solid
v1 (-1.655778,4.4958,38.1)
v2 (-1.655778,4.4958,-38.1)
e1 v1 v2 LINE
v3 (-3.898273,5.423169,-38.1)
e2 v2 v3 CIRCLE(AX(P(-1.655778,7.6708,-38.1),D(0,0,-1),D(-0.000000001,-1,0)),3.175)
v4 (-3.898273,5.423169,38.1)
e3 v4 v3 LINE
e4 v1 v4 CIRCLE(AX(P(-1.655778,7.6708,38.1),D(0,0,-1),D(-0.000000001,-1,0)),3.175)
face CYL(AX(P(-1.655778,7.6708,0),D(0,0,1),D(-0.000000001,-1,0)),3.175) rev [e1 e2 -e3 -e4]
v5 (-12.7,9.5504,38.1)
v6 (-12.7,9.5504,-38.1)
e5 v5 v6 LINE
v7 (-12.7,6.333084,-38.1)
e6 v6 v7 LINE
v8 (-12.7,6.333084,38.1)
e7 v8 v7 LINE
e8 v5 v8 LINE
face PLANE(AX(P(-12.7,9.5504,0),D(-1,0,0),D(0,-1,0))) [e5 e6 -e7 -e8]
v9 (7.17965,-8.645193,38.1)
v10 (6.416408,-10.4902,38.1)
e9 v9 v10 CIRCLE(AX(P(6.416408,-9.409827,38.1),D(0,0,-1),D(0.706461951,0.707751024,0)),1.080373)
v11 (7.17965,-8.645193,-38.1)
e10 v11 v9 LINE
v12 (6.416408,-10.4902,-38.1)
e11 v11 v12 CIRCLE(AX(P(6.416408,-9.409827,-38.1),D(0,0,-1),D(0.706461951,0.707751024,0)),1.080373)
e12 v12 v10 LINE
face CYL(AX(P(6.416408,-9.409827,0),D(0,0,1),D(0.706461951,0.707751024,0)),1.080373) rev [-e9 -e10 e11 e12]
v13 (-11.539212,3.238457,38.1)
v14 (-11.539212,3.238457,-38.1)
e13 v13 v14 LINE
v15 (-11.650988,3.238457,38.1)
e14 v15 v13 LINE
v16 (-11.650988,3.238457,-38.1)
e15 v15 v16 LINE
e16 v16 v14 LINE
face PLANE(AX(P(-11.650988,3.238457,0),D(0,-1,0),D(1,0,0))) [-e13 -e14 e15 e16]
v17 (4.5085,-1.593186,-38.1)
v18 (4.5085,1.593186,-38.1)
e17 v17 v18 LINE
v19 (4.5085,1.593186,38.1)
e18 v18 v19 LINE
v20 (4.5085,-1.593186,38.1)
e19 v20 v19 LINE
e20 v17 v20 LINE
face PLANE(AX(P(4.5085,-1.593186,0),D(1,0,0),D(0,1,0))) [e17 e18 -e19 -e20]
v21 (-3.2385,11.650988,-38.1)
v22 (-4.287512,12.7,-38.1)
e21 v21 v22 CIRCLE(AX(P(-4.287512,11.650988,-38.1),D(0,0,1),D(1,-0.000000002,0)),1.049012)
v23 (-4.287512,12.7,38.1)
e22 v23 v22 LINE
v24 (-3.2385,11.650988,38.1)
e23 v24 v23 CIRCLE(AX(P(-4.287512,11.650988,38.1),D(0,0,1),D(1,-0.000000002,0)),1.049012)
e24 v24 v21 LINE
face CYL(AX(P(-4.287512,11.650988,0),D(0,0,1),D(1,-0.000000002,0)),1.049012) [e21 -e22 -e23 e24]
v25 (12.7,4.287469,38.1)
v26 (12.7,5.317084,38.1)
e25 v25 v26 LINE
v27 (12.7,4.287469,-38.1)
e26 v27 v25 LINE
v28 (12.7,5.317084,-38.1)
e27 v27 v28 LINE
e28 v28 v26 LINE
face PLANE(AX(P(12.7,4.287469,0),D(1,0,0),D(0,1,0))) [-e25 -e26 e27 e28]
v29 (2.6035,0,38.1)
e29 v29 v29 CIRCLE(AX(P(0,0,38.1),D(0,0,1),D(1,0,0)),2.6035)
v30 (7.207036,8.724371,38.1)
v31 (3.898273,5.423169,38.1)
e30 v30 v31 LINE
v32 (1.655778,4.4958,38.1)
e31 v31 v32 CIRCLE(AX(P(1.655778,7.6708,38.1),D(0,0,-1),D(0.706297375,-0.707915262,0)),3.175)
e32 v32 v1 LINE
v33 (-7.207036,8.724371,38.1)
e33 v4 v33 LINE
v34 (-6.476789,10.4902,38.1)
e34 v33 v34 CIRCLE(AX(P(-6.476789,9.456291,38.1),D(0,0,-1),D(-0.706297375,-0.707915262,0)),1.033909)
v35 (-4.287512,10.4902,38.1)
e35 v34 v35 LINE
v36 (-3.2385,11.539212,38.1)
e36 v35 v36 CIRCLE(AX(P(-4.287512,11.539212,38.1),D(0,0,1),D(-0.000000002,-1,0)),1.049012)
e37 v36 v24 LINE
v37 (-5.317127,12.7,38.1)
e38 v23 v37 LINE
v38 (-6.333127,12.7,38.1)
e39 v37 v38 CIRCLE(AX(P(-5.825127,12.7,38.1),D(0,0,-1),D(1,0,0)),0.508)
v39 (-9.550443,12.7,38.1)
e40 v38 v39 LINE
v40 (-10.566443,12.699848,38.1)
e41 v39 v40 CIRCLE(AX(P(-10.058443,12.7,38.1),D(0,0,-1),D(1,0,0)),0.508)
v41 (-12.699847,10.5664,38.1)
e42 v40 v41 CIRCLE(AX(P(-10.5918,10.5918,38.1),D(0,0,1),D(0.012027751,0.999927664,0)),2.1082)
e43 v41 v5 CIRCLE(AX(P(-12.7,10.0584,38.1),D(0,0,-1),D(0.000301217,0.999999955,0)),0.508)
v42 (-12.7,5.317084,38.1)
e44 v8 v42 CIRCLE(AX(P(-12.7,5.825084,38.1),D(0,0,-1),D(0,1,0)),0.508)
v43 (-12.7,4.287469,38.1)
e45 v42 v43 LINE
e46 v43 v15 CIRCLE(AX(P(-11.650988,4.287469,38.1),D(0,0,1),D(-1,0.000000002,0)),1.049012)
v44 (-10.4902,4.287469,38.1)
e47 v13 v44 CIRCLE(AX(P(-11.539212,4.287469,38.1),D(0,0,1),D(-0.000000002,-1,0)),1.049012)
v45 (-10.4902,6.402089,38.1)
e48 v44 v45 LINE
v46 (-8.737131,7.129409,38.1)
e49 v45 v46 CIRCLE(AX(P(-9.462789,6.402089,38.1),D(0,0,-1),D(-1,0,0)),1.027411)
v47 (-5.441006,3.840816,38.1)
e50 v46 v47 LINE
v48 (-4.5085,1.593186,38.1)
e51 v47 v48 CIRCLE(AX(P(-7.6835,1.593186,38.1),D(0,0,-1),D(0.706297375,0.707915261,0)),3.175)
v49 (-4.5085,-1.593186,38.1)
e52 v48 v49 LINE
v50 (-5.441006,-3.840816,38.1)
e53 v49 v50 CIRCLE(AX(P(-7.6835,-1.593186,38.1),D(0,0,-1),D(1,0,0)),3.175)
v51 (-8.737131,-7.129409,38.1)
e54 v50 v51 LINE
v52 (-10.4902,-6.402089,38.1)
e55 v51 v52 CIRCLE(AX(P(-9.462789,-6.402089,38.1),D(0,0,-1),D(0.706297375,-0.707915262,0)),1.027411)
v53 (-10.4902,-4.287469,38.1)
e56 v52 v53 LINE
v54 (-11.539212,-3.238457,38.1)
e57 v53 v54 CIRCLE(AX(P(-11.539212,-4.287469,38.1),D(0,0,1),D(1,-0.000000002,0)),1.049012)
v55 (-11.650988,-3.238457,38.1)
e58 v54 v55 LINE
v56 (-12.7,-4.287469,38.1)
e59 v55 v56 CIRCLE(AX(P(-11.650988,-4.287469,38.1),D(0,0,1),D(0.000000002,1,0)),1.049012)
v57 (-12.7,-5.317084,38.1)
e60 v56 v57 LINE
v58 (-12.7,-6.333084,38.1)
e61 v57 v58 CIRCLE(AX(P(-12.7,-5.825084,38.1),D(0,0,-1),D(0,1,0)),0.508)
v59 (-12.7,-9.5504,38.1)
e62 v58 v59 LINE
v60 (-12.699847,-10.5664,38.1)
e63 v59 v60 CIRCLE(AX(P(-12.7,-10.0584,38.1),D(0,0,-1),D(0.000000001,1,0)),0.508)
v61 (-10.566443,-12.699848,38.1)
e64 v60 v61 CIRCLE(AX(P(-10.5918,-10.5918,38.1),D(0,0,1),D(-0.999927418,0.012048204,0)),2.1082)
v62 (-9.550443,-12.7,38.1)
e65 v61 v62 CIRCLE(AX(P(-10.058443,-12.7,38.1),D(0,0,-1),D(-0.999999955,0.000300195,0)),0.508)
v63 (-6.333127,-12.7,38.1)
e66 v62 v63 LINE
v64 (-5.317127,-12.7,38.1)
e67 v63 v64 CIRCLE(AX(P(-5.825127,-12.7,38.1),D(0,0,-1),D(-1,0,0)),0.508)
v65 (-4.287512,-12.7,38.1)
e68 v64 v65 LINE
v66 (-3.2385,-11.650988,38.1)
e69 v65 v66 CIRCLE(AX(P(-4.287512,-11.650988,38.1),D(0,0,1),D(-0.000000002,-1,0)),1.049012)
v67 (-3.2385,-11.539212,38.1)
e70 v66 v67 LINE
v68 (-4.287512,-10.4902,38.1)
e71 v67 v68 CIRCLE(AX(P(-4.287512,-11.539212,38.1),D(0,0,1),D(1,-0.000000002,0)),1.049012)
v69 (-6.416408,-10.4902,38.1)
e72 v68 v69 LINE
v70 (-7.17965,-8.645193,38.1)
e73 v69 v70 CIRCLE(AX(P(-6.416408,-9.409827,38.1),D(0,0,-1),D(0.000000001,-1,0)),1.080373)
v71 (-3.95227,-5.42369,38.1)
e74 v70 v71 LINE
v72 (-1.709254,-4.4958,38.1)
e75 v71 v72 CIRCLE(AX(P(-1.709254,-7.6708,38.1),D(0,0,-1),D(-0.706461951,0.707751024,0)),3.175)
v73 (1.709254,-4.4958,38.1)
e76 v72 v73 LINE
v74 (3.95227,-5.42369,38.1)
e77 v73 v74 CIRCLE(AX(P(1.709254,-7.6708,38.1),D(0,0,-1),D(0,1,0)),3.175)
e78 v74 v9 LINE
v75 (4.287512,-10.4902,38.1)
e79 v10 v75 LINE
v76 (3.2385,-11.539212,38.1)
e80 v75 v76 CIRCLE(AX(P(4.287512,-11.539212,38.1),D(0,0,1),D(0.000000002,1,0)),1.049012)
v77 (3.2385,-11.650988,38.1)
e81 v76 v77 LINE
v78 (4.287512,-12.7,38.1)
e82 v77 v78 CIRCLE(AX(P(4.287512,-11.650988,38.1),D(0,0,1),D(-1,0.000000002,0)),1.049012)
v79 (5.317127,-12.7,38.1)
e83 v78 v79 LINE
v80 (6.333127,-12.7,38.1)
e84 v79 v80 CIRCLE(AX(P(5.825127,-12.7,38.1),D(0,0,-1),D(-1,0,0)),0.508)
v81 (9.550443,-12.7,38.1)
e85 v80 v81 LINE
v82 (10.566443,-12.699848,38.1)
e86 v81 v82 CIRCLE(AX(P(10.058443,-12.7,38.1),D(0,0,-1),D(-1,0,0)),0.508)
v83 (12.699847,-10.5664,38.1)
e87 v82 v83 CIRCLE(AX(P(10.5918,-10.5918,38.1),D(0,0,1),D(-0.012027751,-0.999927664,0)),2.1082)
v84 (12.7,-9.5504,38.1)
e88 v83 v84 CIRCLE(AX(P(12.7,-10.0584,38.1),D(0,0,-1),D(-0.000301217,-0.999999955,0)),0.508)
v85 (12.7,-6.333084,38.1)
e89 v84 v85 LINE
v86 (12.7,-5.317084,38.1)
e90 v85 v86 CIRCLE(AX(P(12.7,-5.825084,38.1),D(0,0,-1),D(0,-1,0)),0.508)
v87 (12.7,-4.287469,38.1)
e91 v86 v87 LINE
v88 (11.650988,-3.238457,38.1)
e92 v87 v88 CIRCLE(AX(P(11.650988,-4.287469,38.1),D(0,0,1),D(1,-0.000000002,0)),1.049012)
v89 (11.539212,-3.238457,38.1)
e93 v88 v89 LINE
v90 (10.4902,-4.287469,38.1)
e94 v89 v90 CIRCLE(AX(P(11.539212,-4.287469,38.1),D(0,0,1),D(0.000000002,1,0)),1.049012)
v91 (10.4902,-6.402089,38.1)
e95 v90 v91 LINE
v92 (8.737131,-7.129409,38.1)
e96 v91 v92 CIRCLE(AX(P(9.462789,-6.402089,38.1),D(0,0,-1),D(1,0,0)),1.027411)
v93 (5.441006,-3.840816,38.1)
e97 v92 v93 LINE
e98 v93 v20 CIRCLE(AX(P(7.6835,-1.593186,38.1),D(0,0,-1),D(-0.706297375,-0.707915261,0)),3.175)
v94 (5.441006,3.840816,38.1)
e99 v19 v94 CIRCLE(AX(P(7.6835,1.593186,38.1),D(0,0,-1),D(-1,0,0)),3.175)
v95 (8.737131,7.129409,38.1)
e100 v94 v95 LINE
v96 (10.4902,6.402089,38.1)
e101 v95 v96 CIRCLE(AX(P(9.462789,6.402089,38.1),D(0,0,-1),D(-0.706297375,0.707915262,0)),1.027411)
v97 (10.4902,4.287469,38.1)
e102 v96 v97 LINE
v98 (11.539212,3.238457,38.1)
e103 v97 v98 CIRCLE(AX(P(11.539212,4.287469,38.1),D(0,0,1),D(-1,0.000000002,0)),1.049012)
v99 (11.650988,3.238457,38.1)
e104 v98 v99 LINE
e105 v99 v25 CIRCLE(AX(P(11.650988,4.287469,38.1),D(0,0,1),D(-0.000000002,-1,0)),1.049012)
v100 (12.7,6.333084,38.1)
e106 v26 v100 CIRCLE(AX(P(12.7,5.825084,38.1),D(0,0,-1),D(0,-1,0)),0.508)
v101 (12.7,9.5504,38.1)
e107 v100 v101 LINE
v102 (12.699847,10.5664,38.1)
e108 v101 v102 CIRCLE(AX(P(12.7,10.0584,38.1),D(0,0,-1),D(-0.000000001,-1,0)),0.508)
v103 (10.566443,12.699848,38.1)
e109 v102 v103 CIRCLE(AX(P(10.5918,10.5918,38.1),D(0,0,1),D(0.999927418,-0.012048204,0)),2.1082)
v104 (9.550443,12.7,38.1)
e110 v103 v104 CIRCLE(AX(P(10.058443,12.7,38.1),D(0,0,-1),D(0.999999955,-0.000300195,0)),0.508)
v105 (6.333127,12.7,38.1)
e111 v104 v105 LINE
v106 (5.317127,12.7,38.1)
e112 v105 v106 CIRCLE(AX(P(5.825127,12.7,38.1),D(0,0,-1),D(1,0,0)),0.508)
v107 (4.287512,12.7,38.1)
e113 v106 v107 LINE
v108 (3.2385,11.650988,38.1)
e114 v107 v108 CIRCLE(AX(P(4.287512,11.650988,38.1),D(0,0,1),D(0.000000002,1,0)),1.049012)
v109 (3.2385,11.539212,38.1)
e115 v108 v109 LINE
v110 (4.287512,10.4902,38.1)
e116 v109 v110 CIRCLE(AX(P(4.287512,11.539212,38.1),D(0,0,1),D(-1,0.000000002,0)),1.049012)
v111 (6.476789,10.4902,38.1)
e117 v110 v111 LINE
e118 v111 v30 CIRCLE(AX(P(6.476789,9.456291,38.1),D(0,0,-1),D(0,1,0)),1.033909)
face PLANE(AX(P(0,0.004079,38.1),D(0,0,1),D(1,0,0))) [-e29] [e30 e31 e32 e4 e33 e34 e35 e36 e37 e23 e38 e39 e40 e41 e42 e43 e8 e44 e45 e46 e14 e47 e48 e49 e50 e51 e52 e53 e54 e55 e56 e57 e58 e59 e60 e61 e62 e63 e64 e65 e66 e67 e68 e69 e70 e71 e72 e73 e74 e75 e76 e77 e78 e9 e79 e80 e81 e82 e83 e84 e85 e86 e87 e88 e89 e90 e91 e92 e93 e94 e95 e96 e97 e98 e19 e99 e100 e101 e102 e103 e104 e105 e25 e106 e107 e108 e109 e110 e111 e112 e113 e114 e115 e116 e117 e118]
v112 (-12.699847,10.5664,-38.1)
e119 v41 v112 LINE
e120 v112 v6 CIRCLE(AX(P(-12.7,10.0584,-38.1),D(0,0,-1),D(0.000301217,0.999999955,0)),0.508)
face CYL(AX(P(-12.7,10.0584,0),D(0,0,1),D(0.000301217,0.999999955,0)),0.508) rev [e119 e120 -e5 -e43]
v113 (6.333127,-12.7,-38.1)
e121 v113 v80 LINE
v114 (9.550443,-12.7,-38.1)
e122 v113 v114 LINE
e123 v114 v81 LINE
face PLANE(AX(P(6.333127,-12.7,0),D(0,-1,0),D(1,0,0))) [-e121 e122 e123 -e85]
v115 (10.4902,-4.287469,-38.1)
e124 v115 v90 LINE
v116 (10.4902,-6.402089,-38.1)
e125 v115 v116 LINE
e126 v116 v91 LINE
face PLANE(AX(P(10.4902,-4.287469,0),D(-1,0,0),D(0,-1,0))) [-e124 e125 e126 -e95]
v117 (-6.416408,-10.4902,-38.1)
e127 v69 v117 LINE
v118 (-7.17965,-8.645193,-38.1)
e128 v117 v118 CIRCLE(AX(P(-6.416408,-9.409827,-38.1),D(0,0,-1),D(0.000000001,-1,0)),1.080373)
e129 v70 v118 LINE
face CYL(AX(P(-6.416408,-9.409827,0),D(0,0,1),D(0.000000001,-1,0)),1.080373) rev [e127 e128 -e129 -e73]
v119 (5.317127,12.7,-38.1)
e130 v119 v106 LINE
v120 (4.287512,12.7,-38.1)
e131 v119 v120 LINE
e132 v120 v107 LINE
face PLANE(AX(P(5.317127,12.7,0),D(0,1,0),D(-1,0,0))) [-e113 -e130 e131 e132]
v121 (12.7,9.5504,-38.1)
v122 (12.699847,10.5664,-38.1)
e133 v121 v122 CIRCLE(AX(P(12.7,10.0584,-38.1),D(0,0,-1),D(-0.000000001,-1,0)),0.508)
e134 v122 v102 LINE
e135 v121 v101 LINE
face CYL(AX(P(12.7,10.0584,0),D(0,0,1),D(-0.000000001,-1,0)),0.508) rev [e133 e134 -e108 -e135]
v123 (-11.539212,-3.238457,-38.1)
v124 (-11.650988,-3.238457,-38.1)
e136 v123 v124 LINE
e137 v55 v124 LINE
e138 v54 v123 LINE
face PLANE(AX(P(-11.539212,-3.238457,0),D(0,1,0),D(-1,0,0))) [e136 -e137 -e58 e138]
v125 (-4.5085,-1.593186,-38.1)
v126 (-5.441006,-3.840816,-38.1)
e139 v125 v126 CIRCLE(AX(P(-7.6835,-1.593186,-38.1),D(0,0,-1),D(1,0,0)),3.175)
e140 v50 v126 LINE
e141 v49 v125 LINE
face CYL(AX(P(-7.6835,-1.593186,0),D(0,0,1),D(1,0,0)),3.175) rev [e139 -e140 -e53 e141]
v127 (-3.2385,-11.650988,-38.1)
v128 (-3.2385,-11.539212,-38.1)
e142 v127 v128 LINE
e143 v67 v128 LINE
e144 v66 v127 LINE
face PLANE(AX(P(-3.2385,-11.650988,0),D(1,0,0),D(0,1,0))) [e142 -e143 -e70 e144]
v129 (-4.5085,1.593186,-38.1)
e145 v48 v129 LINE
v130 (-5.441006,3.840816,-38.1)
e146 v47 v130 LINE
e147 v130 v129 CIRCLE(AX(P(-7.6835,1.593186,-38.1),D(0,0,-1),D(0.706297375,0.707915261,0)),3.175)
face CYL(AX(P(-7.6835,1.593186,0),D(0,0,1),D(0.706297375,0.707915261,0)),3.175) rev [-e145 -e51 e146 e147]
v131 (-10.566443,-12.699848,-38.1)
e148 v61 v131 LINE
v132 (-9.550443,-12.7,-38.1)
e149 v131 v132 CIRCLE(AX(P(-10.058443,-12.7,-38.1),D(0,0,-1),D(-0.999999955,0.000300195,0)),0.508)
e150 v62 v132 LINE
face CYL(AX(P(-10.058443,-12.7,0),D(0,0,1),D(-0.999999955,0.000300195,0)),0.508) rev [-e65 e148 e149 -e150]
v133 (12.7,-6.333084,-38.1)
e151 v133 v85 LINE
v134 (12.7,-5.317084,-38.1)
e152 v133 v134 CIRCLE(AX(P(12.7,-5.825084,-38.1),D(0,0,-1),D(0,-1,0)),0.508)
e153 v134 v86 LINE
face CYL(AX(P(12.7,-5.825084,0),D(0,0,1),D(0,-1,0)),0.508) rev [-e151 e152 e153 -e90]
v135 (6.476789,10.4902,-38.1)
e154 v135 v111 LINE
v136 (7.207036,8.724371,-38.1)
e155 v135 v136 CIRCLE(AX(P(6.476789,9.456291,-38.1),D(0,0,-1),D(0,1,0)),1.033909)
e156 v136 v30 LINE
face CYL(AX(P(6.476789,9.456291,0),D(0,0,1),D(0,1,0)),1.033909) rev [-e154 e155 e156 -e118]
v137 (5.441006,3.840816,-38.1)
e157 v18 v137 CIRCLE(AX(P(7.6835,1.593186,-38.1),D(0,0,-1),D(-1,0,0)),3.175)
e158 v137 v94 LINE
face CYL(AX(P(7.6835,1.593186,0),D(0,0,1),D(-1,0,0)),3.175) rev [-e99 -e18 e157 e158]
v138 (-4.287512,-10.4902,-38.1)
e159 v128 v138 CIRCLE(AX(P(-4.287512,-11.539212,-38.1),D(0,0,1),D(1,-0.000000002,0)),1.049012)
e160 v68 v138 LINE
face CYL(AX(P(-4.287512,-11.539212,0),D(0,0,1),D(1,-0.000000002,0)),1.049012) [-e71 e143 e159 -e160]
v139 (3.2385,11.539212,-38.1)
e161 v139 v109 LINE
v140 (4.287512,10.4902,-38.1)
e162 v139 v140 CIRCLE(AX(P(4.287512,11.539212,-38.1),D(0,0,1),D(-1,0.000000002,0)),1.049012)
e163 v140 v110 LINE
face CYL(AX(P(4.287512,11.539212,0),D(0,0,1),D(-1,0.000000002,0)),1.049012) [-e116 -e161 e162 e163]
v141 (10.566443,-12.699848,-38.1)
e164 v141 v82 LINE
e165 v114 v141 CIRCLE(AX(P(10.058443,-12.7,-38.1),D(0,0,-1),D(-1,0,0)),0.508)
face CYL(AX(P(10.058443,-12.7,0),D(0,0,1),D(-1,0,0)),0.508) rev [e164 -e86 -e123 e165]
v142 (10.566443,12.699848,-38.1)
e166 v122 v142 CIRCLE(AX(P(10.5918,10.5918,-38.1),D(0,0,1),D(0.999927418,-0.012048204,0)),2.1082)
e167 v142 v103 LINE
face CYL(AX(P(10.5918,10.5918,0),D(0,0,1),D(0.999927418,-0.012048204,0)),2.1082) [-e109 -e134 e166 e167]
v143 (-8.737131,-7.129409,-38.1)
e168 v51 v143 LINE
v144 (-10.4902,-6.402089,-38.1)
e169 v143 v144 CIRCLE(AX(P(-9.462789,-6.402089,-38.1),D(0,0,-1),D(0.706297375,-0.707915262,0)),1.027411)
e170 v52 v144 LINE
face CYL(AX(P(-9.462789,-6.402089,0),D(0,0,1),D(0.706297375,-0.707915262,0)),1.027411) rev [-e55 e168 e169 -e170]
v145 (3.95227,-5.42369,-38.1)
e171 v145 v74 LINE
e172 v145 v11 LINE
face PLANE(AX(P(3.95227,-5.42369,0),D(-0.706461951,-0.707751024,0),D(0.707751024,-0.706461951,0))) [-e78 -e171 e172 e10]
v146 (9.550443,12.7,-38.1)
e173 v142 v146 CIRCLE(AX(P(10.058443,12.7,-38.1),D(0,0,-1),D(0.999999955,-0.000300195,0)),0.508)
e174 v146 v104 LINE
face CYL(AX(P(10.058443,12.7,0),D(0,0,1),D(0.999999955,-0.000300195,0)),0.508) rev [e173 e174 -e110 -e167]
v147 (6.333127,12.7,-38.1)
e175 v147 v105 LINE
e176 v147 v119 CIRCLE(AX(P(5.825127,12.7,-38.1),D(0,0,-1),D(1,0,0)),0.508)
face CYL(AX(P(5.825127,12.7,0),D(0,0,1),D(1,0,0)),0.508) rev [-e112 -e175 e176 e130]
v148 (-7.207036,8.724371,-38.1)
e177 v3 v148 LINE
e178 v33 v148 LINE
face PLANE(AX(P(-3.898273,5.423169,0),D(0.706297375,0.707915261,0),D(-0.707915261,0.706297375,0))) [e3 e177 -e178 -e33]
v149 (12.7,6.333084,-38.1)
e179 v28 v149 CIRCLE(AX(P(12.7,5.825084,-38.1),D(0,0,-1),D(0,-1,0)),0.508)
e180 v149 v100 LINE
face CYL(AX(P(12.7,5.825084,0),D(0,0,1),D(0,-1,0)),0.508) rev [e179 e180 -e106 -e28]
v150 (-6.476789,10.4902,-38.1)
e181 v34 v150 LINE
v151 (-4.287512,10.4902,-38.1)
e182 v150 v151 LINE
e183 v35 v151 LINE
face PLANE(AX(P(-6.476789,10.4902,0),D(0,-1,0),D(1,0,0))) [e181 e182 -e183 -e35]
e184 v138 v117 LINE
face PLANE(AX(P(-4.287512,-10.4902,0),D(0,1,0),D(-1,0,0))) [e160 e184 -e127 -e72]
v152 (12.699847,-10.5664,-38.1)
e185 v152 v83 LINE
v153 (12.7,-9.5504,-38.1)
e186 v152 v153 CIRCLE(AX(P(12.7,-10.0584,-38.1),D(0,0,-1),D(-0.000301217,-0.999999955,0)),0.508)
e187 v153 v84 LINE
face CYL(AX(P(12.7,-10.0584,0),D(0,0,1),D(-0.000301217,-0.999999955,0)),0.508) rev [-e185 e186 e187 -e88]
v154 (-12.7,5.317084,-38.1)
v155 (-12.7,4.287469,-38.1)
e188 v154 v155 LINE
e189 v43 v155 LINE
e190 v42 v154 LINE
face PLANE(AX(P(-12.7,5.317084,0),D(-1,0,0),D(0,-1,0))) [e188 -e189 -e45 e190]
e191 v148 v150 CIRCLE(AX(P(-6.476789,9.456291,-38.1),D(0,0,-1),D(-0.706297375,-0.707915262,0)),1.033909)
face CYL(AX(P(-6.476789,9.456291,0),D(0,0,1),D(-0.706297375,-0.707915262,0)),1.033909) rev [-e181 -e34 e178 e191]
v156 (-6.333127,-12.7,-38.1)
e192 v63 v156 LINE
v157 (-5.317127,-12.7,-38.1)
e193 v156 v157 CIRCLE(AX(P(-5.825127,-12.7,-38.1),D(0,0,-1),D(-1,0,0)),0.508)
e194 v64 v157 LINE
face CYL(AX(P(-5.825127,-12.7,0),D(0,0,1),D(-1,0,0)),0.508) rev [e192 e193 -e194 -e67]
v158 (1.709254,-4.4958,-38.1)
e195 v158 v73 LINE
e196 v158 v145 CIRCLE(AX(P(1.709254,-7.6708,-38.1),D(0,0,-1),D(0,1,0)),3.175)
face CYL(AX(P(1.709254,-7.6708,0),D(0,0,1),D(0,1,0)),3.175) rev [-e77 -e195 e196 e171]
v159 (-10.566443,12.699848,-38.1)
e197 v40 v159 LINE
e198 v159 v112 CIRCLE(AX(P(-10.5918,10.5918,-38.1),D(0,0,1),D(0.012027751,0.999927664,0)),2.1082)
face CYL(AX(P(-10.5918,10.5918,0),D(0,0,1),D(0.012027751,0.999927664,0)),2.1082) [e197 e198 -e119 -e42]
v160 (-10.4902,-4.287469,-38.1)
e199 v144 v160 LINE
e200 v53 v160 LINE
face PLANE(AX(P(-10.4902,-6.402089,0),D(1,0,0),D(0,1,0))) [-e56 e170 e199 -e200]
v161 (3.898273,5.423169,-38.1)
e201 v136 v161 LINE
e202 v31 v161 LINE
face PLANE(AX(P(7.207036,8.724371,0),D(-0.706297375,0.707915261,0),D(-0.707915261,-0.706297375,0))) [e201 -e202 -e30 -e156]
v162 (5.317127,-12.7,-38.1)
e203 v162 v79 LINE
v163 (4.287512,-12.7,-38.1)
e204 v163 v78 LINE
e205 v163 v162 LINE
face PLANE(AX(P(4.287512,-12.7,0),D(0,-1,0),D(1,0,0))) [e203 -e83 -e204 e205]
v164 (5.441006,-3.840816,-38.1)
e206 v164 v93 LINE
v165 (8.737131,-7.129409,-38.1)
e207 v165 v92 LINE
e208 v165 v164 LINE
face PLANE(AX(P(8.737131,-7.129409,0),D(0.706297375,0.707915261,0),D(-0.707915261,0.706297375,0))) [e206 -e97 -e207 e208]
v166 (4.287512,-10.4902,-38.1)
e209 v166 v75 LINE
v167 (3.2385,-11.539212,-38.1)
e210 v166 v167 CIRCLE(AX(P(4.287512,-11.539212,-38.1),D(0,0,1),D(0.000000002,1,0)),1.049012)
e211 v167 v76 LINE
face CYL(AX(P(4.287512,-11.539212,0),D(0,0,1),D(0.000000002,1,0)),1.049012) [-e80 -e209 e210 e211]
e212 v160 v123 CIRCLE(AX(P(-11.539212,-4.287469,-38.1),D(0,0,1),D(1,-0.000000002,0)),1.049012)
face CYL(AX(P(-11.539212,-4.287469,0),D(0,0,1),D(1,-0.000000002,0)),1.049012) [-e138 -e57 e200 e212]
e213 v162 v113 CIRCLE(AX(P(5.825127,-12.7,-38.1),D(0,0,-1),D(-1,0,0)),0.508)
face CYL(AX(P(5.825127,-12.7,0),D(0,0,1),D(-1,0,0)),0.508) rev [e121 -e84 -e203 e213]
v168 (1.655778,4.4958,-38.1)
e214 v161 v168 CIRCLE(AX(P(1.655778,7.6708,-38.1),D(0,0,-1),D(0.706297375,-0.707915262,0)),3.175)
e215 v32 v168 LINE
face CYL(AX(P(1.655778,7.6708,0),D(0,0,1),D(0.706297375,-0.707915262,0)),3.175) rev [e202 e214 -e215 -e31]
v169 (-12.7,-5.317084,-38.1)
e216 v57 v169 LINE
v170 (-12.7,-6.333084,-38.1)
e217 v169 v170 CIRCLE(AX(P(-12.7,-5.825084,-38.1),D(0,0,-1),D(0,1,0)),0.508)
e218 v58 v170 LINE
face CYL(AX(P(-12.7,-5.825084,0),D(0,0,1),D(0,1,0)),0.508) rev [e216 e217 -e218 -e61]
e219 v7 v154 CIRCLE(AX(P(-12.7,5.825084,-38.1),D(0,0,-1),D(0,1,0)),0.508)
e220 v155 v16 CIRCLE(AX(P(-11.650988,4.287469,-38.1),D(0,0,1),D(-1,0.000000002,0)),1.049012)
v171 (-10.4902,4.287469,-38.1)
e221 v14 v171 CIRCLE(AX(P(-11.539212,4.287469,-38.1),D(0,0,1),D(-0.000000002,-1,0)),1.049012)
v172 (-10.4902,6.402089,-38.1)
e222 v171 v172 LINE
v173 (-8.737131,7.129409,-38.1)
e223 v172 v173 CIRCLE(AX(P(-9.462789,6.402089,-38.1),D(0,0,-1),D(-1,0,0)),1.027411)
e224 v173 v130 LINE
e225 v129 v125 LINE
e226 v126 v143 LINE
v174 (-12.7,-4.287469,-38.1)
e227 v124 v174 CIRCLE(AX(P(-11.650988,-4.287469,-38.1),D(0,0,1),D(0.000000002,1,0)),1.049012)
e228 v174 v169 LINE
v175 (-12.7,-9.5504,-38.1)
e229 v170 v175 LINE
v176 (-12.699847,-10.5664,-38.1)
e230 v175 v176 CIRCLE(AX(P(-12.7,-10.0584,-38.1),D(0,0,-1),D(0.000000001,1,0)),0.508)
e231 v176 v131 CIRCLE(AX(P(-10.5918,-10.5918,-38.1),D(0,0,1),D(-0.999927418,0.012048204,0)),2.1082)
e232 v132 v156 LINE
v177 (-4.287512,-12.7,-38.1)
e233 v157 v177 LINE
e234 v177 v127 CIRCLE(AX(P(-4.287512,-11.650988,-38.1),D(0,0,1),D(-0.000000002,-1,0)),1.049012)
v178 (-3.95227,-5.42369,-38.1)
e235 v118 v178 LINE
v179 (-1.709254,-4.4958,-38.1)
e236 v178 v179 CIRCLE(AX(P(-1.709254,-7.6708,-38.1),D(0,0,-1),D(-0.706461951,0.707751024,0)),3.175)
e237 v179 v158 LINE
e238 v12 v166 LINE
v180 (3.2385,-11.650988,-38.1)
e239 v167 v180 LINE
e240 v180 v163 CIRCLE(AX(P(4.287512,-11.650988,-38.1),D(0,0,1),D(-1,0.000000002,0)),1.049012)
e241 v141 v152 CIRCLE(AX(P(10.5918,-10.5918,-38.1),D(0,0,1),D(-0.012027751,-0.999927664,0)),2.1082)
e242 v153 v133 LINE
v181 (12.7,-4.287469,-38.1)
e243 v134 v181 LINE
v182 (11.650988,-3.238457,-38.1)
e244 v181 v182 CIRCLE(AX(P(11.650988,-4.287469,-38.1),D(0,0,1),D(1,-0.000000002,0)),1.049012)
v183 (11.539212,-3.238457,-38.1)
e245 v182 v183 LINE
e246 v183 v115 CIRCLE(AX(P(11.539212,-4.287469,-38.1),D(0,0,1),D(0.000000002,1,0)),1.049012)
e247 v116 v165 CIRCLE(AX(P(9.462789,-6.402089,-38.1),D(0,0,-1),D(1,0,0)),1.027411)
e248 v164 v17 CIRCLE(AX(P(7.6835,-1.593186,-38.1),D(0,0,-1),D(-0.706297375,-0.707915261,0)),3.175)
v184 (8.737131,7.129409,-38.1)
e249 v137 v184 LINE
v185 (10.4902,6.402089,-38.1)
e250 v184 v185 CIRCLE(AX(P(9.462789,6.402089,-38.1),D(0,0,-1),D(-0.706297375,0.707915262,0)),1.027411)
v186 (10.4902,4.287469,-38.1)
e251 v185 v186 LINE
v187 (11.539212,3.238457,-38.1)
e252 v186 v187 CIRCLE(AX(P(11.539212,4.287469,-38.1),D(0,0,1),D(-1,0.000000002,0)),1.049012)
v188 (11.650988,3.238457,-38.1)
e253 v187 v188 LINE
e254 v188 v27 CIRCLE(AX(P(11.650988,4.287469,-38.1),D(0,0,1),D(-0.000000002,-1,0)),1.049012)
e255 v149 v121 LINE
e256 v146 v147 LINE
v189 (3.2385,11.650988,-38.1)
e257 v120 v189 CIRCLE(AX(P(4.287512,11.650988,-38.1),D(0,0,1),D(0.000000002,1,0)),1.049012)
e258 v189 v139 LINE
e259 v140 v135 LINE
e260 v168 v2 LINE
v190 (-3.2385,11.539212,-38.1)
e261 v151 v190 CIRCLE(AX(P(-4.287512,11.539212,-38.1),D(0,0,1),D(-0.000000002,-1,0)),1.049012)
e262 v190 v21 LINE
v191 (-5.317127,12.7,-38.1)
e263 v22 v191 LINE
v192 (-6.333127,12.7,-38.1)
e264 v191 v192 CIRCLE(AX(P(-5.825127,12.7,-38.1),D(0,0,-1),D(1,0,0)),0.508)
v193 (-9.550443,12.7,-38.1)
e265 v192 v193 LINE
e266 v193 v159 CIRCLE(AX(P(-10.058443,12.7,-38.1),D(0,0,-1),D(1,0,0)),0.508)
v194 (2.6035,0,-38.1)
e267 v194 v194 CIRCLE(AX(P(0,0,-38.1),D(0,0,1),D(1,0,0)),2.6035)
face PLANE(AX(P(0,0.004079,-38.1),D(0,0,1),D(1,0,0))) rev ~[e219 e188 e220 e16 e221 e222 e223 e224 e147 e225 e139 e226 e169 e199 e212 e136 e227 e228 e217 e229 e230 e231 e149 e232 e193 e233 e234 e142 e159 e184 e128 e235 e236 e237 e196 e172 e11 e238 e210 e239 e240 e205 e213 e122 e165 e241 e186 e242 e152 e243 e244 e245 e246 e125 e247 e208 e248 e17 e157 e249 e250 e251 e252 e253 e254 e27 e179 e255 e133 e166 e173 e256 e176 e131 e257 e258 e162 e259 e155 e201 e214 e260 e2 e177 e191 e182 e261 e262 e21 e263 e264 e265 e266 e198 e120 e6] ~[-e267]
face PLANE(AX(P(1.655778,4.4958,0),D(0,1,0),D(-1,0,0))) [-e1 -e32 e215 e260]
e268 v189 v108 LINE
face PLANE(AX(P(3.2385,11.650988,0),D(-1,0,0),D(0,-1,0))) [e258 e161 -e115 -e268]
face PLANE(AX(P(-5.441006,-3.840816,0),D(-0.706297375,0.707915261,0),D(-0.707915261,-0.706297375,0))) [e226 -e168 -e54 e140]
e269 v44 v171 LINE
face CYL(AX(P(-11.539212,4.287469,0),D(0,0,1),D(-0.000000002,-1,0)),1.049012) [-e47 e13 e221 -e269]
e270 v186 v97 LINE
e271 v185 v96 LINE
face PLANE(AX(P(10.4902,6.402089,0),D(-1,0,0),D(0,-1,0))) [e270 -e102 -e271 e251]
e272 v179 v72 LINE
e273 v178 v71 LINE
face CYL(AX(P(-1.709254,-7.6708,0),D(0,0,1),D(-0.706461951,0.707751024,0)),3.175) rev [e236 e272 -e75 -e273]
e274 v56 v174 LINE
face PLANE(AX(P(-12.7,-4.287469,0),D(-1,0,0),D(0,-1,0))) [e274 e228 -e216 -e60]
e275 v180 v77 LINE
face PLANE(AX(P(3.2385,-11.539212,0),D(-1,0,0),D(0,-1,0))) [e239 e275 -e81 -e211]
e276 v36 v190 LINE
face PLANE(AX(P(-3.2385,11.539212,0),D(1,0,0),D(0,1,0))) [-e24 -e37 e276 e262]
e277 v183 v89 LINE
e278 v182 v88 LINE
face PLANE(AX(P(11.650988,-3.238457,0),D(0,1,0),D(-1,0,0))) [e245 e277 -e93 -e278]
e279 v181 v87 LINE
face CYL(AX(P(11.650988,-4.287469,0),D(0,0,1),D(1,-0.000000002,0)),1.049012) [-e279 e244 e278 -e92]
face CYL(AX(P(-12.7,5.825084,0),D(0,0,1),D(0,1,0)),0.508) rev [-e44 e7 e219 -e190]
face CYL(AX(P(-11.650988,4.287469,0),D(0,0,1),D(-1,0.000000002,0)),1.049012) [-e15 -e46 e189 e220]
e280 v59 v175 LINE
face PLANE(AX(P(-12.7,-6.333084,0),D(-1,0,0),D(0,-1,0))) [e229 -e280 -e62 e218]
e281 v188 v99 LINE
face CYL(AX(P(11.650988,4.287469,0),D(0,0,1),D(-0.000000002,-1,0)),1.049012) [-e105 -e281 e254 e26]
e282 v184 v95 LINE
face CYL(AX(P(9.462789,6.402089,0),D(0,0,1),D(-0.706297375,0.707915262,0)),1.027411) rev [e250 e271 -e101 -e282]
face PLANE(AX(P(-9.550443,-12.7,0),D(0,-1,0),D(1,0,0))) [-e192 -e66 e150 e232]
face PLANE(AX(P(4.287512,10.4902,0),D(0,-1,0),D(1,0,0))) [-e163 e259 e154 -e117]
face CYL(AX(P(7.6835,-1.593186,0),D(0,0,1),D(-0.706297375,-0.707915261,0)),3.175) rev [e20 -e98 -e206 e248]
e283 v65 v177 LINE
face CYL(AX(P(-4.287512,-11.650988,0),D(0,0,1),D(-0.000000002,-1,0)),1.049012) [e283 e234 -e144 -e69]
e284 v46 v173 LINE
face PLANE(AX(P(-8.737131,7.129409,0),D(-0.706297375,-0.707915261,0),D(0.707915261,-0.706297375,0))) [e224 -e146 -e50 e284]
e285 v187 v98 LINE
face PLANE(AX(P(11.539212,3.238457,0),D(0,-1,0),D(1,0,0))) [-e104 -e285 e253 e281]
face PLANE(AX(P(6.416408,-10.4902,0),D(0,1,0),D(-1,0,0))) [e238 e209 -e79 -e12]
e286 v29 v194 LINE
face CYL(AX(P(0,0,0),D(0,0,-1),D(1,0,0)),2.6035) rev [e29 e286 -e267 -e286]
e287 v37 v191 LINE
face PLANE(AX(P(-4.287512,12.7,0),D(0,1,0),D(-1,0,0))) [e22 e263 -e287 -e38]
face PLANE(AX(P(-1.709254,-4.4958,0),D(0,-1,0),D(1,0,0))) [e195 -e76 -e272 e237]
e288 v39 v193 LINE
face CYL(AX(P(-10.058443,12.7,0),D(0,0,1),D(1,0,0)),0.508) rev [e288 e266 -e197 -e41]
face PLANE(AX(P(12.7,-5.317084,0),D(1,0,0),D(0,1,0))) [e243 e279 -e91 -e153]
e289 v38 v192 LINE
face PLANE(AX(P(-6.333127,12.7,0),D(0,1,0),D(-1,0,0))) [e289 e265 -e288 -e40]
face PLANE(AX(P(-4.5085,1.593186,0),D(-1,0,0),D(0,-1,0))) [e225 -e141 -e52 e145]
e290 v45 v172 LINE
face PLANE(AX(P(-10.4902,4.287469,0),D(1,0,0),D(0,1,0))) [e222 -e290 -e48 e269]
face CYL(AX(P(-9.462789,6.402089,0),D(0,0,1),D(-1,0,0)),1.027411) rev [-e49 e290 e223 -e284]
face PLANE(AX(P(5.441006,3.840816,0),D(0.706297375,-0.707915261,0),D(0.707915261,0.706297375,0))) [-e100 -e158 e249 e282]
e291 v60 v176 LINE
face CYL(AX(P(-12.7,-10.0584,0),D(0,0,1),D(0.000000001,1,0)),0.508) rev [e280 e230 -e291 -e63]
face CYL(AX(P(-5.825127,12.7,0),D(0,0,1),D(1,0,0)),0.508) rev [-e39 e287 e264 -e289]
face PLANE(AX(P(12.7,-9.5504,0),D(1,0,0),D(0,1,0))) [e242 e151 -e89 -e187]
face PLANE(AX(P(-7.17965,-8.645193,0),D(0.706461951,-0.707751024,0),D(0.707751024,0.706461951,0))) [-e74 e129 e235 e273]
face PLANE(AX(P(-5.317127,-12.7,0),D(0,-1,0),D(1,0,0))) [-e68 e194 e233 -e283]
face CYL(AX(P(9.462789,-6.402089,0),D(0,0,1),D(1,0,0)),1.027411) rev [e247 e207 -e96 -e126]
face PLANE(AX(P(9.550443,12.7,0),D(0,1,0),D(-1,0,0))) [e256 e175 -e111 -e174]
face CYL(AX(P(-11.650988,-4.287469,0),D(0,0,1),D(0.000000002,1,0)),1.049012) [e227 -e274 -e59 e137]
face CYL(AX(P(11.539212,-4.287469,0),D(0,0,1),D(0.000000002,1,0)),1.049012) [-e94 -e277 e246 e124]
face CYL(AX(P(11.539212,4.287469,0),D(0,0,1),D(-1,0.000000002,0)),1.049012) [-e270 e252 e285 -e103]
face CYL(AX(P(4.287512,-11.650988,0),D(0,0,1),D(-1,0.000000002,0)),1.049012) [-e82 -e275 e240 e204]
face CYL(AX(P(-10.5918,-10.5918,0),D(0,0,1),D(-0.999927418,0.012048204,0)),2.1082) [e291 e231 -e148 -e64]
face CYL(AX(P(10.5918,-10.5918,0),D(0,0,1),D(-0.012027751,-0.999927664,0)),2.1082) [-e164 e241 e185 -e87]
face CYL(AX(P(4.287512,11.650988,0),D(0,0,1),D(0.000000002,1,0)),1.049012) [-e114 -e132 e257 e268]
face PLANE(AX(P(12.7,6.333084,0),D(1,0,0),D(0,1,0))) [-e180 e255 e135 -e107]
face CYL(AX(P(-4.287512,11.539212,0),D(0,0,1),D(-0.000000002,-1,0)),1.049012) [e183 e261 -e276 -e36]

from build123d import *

# Parameters (mm, degrees)
SKETCH1_R           = 2.6035
BOSS_EXTRUDE1_DEPTH = 38.1


with BuildPart() as part:
    # Sketch1 → Boss-Extrude1 (new body, symmetric)
    with BuildSketch(Plane.XY):
        with BuildLine():
            Line((-7.179650497, -8.645192506), (-3.952270251, -5.423690499))
            ThreePointArc((-3.952270251, -5.423690499), (-2.922936451, -4.736929036), (-1.709253557, -4.4958))
            Line((-1.709253557, -4.4958), (1.709253557, -4.4958))
            ThreePointArc((1.709253557, -4.4958), (2.922936451, -4.736929036), (3.952270251, -5.423690499))
            Line((3.952270251, -5.423690499), (7.179650497, -8.645192506))
            ThreePointArc((7.179650497, -8.645192506), (7.41473083, -9.822813117), (6.416408329, -10.4902))
            Line((6.416408329, -10.4902), (4.287512407, -10.4902))
            ThreePointArc((4.287512407, -10.4902), (3.54574862, -10.79744862), (3.2385, -11.539212407))
            Line((3.2385, -11.539212407), (3.2385, -11.650987593))
            ThreePointArc((3.2385, -11.650987593), (3.54574862, -12.39275138), (4.287512407, -12.7))
            Line((4.287512407, -12.7), (5.317126718, -12.7))
            ThreePointArc((5.317126718, -12.7), (5.825126718, -12.192), (6.333126718, -12.7))
            Line((6.333126718, -12.7), (9.550443118, -12.7))
            ThreePointArc((9.550443118, -12.7), (10.058366869, -12.192000006), (10.566443095, -12.699847501))
            ThreePointArc((10.566443095, -12.699847501), (12.082537762, -12.08250727), (12.699846982, -10.566399977))
            ThreePointArc((12.699846982, -10.566399977), (12.192000006, -10.058323491), (12.7, -9.5504))
            Line((12.7, -9.5504), (12.7, -6.3330836))
            ThreePointArc((12.7, -6.3330836), (12.192, -5.8250836), (12.7, -5.3170836))
            Line((12.7, -5.3170836), (12.7, -4.287469289))
            ThreePointArc((12.7, -4.287469289), (12.39275138, -3.545705502), (11.650987593, -3.238456882))
            Line((11.650987593, -3.238456882), (11.539212407, -3.238456882))
            ThreePointArc((11.539212407, -3.238456882), (10.79744862, -3.545705502), (10.4902, -4.287469289))
            Line((10.4902, -4.287469289), (10.4902, -6.402089023))
            ThreePointArc((10.4902, -6.402089023), (9.856505071, -7.351067942), (8.737131347, -7.129408934))
            Line((8.737131347, -7.129408934), (5.441005833, -3.840816462))
            ThreePointArc((5.441005833, -3.840816462), (4.750877967, -2.809883091), (4.5085, -1.593185507))
            Line((4.5085, -1.593185507), (4.5085, 1.593185507))
            ThreePointArc((4.5085, 1.593185507), (4.750877967, 2.809883091), (5.441005833, 3.840816462))
            Line((5.441005833, 3.840816462), (8.737131347, 7.129408934))
            ThreePointArc((8.737131347, 7.129408934), (9.856505071, 7.351067942), (10.4902, 6.402089023))
            Line((10.4902, 6.402089023), (10.4902, 4.287469289))
            ThreePointArc((10.4902, 4.287469289), (10.79744862, 3.545705502), (11.539212407, 3.238456882))
            Line((11.539212407, 3.238456882), (11.650987593, 3.238456882))
            ThreePointArc((11.650987593, 3.238456882), (12.39275138, 3.545705502), (12.7, 4.287469289))
            Line((12.7, 4.287469289), (12.7, 5.3170836))
            ThreePointArc((12.7, 5.3170836), (12.192, 5.8250836), (12.7, 6.3330836))
            Line((12.7, 6.3330836), (12.7, 9.5504))
            ThreePointArc((12.7, 9.5504), (12.192000006, 10.058323491), (12.699846982, 10.566399977))
            ThreePointArc((12.699846982, 10.566399977), (12.082537762, 12.08250727), (10.566443095, 12.699847501))
            ThreePointArc((10.566443095, 12.699847501), (10.058366869, 12.192000006), (9.550443118, 12.7))
            Line((9.550443118, 12.7), (6.333126718, 12.7))
            ThreePointArc((6.333126718, 12.7), (5.825126718, 12.192), (5.317126718, 12.7))
            Line((5.317126718, 12.7), (4.287512407, 12.7))
            ThreePointArc((4.287512407, 12.7), (3.54574862, 12.39275138), (3.2385, 11.650987593))
            Line((3.2385, 11.650987593), (3.2385, 11.539212407))
            ThreePointArc((3.2385, 11.539212407), (3.54574862, 10.79744862), (4.287512407, 10.4902))
            Line((4.287512407, 10.4902), (6.476788598, 10.4902))
            ThreePointArc((6.476788598, 10.4902), (7.432222385, 9.85140422), (7.207036008, 8.724370562))
            Line((7.207036008, 8.724370562), (3.898272566, 5.423169045))
            ThreePointArc((3.898272566, 5.423169045), (2.869120213, 4.736787962), (1.655778399, 4.4958))
            Line((1.655778399, 4.4958), (-1.655778399, 4.4958))
            ThreePointArc((-1.655778399, 4.4958), (-2.869120213, 4.736787962), (-3.898272566, 5.423169045))
            Line((-3.898272566, 5.423169045), (-7.207036008, 8.724370562))
            ThreePointArc((-7.207036008, 8.724370562), (-7.432222385, 9.85140422), (-6.476788598, 10.4902))
            Line((-6.476788598, 10.4902), (-4.287512407, 10.4902))
            ThreePointArc((-4.287512407, 10.4902), (-3.54574862, 10.79744862), (-3.2385, 11.539212407))
            Line((-3.2385, 11.539212407), (-3.2385, 11.650987593))
            ThreePointArc((-3.2385, 11.650987593), (-3.54574862, 12.39275138), (-4.287512407, 12.7))
            Line((-4.287512407, 12.7), (-5.317126718, 12.7))
            ThreePointArc((-5.317126718, 12.7), (-5.825126718, 12.192), (-6.333126718, 12.7))
            Line((-6.333126718, 12.7), (-9.550443118, 12.7))
            ThreePointArc((-9.550443118, 12.7), (-10.058366869, 12.192000006), (-10.566443095, 12.699847501))
            ThreePointArc((-10.566443095, 12.699847501), (-12.082537762, 12.08250727), (-12.699846982, 10.566399977))
            ThreePointArc((-12.699846982, 10.566399977), (-12.192000006, 10.058323491), (-12.7, 9.5504))
            Line((-12.7, 9.5504), (-12.7, 6.3330836))
            ThreePointArc((-12.7, 6.3330836), (-12.192, 5.8250836), (-12.7, 5.3170836))
            Line((-12.7, 5.3170836), (-12.7, 4.287469289))
            ThreePointArc((-12.7, 4.287469289), (-12.39275138, 3.545705502), (-11.650987593, 3.238456882))
            Line((-11.650987593, 3.238456882), (-11.539212407, 3.238456882))
            ThreePointArc((-11.539212407, 3.238456882), (-10.79744862, 3.545705502), (-10.4902, 4.287469289))
            Line((-10.4902, 4.287469289), (-10.4902, 6.402089023))
            ThreePointArc((-10.4902, 6.402089023), (-9.856505071, 7.351067942), (-8.737131347, 7.129408934))
            Line((-8.737131347, 7.129408934), (-5.441005833, 3.840816462))
            ThreePointArc((-5.441005833, 3.840816462), (-4.750877967, 2.809883091), (-4.5085, 1.593185507))
            Line((-4.5085, 1.593185507), (-4.5085, -1.593185507))
            ThreePointArc((-4.5085, -1.593185507), (-4.750877967, -2.809883091), (-5.441005833, -3.840816462))
            Line((-5.441005833, -3.840816462), (-8.737131347, -7.129408934))
            ThreePointArc((-8.737131347, -7.129408934), (-9.856505071, -7.351067942), (-10.4902, -6.402089023))
            Line((-10.4902, -6.402089023), (-10.4902, -4.287469289))
            ThreePointArc((-10.4902, -4.287469289), (-10.79744862, -3.545705502), (-11.539212407, -3.238456882))
            Line((-11.539212407, -3.238456882), (-11.650987593, -3.238456882))
            ThreePointArc((-11.650987593, -3.238456882), (-12.39275138, -3.545705502), (-12.7, -4.287469289))
            Line((-12.7, -4.287469289), (-12.7, -5.3170836))
            ThreePointArc((-12.7, -5.3170836), (-12.192, -5.8250836), (-12.7, -6.3330836))
            Line((-12.7, -6.3330836), (-12.7, -9.5504))
            ThreePointArc((-12.7, -9.5504), (-12.192000006, -10.058323491), (-12.699846982, -10.566399977))
            ThreePointArc((-12.699846982, -10.566399977), (-12.082537762, -12.08250727), (-10.566443095, -12.699847501))
            ThreePointArc((-10.566443095, -12.699847501), (-10.058366869, -12.192000006), (-9.550443118, -12.7))
            Line((-9.550443118, -12.7), (-6.333126718, -12.7))
            ThreePointArc((-6.333126718, -12.7), (-5.825126718, -12.192), (-5.317126718, -12.7))
            Line((-5.317126718, -12.7), (-4.287512407, -12.7))
            ThreePointArc((-4.287512407, -12.7), (-3.54574862, -12.39275138), (-3.2385, -11.650987593))
            Line((-3.2385, -11.650987593), (-3.2385, -11.539212407))
            ThreePointArc((-3.2385, -11.539212407), (-3.54574862, -10.79744862), (-4.287512407, -10.4902))
            Line((-4.287512407, -10.4902), (-6.416408329, -10.4902))
            ThreePointArc((-6.416408329, -10.4902), (-7.41473083, -9.822813117), (-7.179650497, -8.645192506))
        make_face()
        Circle(SKETCH1_R, mode=Mode.SUBTRACT)
    extrude(amount=BOSS_EXTRUDE1_DEPTH, both=True)


solid = part.part
